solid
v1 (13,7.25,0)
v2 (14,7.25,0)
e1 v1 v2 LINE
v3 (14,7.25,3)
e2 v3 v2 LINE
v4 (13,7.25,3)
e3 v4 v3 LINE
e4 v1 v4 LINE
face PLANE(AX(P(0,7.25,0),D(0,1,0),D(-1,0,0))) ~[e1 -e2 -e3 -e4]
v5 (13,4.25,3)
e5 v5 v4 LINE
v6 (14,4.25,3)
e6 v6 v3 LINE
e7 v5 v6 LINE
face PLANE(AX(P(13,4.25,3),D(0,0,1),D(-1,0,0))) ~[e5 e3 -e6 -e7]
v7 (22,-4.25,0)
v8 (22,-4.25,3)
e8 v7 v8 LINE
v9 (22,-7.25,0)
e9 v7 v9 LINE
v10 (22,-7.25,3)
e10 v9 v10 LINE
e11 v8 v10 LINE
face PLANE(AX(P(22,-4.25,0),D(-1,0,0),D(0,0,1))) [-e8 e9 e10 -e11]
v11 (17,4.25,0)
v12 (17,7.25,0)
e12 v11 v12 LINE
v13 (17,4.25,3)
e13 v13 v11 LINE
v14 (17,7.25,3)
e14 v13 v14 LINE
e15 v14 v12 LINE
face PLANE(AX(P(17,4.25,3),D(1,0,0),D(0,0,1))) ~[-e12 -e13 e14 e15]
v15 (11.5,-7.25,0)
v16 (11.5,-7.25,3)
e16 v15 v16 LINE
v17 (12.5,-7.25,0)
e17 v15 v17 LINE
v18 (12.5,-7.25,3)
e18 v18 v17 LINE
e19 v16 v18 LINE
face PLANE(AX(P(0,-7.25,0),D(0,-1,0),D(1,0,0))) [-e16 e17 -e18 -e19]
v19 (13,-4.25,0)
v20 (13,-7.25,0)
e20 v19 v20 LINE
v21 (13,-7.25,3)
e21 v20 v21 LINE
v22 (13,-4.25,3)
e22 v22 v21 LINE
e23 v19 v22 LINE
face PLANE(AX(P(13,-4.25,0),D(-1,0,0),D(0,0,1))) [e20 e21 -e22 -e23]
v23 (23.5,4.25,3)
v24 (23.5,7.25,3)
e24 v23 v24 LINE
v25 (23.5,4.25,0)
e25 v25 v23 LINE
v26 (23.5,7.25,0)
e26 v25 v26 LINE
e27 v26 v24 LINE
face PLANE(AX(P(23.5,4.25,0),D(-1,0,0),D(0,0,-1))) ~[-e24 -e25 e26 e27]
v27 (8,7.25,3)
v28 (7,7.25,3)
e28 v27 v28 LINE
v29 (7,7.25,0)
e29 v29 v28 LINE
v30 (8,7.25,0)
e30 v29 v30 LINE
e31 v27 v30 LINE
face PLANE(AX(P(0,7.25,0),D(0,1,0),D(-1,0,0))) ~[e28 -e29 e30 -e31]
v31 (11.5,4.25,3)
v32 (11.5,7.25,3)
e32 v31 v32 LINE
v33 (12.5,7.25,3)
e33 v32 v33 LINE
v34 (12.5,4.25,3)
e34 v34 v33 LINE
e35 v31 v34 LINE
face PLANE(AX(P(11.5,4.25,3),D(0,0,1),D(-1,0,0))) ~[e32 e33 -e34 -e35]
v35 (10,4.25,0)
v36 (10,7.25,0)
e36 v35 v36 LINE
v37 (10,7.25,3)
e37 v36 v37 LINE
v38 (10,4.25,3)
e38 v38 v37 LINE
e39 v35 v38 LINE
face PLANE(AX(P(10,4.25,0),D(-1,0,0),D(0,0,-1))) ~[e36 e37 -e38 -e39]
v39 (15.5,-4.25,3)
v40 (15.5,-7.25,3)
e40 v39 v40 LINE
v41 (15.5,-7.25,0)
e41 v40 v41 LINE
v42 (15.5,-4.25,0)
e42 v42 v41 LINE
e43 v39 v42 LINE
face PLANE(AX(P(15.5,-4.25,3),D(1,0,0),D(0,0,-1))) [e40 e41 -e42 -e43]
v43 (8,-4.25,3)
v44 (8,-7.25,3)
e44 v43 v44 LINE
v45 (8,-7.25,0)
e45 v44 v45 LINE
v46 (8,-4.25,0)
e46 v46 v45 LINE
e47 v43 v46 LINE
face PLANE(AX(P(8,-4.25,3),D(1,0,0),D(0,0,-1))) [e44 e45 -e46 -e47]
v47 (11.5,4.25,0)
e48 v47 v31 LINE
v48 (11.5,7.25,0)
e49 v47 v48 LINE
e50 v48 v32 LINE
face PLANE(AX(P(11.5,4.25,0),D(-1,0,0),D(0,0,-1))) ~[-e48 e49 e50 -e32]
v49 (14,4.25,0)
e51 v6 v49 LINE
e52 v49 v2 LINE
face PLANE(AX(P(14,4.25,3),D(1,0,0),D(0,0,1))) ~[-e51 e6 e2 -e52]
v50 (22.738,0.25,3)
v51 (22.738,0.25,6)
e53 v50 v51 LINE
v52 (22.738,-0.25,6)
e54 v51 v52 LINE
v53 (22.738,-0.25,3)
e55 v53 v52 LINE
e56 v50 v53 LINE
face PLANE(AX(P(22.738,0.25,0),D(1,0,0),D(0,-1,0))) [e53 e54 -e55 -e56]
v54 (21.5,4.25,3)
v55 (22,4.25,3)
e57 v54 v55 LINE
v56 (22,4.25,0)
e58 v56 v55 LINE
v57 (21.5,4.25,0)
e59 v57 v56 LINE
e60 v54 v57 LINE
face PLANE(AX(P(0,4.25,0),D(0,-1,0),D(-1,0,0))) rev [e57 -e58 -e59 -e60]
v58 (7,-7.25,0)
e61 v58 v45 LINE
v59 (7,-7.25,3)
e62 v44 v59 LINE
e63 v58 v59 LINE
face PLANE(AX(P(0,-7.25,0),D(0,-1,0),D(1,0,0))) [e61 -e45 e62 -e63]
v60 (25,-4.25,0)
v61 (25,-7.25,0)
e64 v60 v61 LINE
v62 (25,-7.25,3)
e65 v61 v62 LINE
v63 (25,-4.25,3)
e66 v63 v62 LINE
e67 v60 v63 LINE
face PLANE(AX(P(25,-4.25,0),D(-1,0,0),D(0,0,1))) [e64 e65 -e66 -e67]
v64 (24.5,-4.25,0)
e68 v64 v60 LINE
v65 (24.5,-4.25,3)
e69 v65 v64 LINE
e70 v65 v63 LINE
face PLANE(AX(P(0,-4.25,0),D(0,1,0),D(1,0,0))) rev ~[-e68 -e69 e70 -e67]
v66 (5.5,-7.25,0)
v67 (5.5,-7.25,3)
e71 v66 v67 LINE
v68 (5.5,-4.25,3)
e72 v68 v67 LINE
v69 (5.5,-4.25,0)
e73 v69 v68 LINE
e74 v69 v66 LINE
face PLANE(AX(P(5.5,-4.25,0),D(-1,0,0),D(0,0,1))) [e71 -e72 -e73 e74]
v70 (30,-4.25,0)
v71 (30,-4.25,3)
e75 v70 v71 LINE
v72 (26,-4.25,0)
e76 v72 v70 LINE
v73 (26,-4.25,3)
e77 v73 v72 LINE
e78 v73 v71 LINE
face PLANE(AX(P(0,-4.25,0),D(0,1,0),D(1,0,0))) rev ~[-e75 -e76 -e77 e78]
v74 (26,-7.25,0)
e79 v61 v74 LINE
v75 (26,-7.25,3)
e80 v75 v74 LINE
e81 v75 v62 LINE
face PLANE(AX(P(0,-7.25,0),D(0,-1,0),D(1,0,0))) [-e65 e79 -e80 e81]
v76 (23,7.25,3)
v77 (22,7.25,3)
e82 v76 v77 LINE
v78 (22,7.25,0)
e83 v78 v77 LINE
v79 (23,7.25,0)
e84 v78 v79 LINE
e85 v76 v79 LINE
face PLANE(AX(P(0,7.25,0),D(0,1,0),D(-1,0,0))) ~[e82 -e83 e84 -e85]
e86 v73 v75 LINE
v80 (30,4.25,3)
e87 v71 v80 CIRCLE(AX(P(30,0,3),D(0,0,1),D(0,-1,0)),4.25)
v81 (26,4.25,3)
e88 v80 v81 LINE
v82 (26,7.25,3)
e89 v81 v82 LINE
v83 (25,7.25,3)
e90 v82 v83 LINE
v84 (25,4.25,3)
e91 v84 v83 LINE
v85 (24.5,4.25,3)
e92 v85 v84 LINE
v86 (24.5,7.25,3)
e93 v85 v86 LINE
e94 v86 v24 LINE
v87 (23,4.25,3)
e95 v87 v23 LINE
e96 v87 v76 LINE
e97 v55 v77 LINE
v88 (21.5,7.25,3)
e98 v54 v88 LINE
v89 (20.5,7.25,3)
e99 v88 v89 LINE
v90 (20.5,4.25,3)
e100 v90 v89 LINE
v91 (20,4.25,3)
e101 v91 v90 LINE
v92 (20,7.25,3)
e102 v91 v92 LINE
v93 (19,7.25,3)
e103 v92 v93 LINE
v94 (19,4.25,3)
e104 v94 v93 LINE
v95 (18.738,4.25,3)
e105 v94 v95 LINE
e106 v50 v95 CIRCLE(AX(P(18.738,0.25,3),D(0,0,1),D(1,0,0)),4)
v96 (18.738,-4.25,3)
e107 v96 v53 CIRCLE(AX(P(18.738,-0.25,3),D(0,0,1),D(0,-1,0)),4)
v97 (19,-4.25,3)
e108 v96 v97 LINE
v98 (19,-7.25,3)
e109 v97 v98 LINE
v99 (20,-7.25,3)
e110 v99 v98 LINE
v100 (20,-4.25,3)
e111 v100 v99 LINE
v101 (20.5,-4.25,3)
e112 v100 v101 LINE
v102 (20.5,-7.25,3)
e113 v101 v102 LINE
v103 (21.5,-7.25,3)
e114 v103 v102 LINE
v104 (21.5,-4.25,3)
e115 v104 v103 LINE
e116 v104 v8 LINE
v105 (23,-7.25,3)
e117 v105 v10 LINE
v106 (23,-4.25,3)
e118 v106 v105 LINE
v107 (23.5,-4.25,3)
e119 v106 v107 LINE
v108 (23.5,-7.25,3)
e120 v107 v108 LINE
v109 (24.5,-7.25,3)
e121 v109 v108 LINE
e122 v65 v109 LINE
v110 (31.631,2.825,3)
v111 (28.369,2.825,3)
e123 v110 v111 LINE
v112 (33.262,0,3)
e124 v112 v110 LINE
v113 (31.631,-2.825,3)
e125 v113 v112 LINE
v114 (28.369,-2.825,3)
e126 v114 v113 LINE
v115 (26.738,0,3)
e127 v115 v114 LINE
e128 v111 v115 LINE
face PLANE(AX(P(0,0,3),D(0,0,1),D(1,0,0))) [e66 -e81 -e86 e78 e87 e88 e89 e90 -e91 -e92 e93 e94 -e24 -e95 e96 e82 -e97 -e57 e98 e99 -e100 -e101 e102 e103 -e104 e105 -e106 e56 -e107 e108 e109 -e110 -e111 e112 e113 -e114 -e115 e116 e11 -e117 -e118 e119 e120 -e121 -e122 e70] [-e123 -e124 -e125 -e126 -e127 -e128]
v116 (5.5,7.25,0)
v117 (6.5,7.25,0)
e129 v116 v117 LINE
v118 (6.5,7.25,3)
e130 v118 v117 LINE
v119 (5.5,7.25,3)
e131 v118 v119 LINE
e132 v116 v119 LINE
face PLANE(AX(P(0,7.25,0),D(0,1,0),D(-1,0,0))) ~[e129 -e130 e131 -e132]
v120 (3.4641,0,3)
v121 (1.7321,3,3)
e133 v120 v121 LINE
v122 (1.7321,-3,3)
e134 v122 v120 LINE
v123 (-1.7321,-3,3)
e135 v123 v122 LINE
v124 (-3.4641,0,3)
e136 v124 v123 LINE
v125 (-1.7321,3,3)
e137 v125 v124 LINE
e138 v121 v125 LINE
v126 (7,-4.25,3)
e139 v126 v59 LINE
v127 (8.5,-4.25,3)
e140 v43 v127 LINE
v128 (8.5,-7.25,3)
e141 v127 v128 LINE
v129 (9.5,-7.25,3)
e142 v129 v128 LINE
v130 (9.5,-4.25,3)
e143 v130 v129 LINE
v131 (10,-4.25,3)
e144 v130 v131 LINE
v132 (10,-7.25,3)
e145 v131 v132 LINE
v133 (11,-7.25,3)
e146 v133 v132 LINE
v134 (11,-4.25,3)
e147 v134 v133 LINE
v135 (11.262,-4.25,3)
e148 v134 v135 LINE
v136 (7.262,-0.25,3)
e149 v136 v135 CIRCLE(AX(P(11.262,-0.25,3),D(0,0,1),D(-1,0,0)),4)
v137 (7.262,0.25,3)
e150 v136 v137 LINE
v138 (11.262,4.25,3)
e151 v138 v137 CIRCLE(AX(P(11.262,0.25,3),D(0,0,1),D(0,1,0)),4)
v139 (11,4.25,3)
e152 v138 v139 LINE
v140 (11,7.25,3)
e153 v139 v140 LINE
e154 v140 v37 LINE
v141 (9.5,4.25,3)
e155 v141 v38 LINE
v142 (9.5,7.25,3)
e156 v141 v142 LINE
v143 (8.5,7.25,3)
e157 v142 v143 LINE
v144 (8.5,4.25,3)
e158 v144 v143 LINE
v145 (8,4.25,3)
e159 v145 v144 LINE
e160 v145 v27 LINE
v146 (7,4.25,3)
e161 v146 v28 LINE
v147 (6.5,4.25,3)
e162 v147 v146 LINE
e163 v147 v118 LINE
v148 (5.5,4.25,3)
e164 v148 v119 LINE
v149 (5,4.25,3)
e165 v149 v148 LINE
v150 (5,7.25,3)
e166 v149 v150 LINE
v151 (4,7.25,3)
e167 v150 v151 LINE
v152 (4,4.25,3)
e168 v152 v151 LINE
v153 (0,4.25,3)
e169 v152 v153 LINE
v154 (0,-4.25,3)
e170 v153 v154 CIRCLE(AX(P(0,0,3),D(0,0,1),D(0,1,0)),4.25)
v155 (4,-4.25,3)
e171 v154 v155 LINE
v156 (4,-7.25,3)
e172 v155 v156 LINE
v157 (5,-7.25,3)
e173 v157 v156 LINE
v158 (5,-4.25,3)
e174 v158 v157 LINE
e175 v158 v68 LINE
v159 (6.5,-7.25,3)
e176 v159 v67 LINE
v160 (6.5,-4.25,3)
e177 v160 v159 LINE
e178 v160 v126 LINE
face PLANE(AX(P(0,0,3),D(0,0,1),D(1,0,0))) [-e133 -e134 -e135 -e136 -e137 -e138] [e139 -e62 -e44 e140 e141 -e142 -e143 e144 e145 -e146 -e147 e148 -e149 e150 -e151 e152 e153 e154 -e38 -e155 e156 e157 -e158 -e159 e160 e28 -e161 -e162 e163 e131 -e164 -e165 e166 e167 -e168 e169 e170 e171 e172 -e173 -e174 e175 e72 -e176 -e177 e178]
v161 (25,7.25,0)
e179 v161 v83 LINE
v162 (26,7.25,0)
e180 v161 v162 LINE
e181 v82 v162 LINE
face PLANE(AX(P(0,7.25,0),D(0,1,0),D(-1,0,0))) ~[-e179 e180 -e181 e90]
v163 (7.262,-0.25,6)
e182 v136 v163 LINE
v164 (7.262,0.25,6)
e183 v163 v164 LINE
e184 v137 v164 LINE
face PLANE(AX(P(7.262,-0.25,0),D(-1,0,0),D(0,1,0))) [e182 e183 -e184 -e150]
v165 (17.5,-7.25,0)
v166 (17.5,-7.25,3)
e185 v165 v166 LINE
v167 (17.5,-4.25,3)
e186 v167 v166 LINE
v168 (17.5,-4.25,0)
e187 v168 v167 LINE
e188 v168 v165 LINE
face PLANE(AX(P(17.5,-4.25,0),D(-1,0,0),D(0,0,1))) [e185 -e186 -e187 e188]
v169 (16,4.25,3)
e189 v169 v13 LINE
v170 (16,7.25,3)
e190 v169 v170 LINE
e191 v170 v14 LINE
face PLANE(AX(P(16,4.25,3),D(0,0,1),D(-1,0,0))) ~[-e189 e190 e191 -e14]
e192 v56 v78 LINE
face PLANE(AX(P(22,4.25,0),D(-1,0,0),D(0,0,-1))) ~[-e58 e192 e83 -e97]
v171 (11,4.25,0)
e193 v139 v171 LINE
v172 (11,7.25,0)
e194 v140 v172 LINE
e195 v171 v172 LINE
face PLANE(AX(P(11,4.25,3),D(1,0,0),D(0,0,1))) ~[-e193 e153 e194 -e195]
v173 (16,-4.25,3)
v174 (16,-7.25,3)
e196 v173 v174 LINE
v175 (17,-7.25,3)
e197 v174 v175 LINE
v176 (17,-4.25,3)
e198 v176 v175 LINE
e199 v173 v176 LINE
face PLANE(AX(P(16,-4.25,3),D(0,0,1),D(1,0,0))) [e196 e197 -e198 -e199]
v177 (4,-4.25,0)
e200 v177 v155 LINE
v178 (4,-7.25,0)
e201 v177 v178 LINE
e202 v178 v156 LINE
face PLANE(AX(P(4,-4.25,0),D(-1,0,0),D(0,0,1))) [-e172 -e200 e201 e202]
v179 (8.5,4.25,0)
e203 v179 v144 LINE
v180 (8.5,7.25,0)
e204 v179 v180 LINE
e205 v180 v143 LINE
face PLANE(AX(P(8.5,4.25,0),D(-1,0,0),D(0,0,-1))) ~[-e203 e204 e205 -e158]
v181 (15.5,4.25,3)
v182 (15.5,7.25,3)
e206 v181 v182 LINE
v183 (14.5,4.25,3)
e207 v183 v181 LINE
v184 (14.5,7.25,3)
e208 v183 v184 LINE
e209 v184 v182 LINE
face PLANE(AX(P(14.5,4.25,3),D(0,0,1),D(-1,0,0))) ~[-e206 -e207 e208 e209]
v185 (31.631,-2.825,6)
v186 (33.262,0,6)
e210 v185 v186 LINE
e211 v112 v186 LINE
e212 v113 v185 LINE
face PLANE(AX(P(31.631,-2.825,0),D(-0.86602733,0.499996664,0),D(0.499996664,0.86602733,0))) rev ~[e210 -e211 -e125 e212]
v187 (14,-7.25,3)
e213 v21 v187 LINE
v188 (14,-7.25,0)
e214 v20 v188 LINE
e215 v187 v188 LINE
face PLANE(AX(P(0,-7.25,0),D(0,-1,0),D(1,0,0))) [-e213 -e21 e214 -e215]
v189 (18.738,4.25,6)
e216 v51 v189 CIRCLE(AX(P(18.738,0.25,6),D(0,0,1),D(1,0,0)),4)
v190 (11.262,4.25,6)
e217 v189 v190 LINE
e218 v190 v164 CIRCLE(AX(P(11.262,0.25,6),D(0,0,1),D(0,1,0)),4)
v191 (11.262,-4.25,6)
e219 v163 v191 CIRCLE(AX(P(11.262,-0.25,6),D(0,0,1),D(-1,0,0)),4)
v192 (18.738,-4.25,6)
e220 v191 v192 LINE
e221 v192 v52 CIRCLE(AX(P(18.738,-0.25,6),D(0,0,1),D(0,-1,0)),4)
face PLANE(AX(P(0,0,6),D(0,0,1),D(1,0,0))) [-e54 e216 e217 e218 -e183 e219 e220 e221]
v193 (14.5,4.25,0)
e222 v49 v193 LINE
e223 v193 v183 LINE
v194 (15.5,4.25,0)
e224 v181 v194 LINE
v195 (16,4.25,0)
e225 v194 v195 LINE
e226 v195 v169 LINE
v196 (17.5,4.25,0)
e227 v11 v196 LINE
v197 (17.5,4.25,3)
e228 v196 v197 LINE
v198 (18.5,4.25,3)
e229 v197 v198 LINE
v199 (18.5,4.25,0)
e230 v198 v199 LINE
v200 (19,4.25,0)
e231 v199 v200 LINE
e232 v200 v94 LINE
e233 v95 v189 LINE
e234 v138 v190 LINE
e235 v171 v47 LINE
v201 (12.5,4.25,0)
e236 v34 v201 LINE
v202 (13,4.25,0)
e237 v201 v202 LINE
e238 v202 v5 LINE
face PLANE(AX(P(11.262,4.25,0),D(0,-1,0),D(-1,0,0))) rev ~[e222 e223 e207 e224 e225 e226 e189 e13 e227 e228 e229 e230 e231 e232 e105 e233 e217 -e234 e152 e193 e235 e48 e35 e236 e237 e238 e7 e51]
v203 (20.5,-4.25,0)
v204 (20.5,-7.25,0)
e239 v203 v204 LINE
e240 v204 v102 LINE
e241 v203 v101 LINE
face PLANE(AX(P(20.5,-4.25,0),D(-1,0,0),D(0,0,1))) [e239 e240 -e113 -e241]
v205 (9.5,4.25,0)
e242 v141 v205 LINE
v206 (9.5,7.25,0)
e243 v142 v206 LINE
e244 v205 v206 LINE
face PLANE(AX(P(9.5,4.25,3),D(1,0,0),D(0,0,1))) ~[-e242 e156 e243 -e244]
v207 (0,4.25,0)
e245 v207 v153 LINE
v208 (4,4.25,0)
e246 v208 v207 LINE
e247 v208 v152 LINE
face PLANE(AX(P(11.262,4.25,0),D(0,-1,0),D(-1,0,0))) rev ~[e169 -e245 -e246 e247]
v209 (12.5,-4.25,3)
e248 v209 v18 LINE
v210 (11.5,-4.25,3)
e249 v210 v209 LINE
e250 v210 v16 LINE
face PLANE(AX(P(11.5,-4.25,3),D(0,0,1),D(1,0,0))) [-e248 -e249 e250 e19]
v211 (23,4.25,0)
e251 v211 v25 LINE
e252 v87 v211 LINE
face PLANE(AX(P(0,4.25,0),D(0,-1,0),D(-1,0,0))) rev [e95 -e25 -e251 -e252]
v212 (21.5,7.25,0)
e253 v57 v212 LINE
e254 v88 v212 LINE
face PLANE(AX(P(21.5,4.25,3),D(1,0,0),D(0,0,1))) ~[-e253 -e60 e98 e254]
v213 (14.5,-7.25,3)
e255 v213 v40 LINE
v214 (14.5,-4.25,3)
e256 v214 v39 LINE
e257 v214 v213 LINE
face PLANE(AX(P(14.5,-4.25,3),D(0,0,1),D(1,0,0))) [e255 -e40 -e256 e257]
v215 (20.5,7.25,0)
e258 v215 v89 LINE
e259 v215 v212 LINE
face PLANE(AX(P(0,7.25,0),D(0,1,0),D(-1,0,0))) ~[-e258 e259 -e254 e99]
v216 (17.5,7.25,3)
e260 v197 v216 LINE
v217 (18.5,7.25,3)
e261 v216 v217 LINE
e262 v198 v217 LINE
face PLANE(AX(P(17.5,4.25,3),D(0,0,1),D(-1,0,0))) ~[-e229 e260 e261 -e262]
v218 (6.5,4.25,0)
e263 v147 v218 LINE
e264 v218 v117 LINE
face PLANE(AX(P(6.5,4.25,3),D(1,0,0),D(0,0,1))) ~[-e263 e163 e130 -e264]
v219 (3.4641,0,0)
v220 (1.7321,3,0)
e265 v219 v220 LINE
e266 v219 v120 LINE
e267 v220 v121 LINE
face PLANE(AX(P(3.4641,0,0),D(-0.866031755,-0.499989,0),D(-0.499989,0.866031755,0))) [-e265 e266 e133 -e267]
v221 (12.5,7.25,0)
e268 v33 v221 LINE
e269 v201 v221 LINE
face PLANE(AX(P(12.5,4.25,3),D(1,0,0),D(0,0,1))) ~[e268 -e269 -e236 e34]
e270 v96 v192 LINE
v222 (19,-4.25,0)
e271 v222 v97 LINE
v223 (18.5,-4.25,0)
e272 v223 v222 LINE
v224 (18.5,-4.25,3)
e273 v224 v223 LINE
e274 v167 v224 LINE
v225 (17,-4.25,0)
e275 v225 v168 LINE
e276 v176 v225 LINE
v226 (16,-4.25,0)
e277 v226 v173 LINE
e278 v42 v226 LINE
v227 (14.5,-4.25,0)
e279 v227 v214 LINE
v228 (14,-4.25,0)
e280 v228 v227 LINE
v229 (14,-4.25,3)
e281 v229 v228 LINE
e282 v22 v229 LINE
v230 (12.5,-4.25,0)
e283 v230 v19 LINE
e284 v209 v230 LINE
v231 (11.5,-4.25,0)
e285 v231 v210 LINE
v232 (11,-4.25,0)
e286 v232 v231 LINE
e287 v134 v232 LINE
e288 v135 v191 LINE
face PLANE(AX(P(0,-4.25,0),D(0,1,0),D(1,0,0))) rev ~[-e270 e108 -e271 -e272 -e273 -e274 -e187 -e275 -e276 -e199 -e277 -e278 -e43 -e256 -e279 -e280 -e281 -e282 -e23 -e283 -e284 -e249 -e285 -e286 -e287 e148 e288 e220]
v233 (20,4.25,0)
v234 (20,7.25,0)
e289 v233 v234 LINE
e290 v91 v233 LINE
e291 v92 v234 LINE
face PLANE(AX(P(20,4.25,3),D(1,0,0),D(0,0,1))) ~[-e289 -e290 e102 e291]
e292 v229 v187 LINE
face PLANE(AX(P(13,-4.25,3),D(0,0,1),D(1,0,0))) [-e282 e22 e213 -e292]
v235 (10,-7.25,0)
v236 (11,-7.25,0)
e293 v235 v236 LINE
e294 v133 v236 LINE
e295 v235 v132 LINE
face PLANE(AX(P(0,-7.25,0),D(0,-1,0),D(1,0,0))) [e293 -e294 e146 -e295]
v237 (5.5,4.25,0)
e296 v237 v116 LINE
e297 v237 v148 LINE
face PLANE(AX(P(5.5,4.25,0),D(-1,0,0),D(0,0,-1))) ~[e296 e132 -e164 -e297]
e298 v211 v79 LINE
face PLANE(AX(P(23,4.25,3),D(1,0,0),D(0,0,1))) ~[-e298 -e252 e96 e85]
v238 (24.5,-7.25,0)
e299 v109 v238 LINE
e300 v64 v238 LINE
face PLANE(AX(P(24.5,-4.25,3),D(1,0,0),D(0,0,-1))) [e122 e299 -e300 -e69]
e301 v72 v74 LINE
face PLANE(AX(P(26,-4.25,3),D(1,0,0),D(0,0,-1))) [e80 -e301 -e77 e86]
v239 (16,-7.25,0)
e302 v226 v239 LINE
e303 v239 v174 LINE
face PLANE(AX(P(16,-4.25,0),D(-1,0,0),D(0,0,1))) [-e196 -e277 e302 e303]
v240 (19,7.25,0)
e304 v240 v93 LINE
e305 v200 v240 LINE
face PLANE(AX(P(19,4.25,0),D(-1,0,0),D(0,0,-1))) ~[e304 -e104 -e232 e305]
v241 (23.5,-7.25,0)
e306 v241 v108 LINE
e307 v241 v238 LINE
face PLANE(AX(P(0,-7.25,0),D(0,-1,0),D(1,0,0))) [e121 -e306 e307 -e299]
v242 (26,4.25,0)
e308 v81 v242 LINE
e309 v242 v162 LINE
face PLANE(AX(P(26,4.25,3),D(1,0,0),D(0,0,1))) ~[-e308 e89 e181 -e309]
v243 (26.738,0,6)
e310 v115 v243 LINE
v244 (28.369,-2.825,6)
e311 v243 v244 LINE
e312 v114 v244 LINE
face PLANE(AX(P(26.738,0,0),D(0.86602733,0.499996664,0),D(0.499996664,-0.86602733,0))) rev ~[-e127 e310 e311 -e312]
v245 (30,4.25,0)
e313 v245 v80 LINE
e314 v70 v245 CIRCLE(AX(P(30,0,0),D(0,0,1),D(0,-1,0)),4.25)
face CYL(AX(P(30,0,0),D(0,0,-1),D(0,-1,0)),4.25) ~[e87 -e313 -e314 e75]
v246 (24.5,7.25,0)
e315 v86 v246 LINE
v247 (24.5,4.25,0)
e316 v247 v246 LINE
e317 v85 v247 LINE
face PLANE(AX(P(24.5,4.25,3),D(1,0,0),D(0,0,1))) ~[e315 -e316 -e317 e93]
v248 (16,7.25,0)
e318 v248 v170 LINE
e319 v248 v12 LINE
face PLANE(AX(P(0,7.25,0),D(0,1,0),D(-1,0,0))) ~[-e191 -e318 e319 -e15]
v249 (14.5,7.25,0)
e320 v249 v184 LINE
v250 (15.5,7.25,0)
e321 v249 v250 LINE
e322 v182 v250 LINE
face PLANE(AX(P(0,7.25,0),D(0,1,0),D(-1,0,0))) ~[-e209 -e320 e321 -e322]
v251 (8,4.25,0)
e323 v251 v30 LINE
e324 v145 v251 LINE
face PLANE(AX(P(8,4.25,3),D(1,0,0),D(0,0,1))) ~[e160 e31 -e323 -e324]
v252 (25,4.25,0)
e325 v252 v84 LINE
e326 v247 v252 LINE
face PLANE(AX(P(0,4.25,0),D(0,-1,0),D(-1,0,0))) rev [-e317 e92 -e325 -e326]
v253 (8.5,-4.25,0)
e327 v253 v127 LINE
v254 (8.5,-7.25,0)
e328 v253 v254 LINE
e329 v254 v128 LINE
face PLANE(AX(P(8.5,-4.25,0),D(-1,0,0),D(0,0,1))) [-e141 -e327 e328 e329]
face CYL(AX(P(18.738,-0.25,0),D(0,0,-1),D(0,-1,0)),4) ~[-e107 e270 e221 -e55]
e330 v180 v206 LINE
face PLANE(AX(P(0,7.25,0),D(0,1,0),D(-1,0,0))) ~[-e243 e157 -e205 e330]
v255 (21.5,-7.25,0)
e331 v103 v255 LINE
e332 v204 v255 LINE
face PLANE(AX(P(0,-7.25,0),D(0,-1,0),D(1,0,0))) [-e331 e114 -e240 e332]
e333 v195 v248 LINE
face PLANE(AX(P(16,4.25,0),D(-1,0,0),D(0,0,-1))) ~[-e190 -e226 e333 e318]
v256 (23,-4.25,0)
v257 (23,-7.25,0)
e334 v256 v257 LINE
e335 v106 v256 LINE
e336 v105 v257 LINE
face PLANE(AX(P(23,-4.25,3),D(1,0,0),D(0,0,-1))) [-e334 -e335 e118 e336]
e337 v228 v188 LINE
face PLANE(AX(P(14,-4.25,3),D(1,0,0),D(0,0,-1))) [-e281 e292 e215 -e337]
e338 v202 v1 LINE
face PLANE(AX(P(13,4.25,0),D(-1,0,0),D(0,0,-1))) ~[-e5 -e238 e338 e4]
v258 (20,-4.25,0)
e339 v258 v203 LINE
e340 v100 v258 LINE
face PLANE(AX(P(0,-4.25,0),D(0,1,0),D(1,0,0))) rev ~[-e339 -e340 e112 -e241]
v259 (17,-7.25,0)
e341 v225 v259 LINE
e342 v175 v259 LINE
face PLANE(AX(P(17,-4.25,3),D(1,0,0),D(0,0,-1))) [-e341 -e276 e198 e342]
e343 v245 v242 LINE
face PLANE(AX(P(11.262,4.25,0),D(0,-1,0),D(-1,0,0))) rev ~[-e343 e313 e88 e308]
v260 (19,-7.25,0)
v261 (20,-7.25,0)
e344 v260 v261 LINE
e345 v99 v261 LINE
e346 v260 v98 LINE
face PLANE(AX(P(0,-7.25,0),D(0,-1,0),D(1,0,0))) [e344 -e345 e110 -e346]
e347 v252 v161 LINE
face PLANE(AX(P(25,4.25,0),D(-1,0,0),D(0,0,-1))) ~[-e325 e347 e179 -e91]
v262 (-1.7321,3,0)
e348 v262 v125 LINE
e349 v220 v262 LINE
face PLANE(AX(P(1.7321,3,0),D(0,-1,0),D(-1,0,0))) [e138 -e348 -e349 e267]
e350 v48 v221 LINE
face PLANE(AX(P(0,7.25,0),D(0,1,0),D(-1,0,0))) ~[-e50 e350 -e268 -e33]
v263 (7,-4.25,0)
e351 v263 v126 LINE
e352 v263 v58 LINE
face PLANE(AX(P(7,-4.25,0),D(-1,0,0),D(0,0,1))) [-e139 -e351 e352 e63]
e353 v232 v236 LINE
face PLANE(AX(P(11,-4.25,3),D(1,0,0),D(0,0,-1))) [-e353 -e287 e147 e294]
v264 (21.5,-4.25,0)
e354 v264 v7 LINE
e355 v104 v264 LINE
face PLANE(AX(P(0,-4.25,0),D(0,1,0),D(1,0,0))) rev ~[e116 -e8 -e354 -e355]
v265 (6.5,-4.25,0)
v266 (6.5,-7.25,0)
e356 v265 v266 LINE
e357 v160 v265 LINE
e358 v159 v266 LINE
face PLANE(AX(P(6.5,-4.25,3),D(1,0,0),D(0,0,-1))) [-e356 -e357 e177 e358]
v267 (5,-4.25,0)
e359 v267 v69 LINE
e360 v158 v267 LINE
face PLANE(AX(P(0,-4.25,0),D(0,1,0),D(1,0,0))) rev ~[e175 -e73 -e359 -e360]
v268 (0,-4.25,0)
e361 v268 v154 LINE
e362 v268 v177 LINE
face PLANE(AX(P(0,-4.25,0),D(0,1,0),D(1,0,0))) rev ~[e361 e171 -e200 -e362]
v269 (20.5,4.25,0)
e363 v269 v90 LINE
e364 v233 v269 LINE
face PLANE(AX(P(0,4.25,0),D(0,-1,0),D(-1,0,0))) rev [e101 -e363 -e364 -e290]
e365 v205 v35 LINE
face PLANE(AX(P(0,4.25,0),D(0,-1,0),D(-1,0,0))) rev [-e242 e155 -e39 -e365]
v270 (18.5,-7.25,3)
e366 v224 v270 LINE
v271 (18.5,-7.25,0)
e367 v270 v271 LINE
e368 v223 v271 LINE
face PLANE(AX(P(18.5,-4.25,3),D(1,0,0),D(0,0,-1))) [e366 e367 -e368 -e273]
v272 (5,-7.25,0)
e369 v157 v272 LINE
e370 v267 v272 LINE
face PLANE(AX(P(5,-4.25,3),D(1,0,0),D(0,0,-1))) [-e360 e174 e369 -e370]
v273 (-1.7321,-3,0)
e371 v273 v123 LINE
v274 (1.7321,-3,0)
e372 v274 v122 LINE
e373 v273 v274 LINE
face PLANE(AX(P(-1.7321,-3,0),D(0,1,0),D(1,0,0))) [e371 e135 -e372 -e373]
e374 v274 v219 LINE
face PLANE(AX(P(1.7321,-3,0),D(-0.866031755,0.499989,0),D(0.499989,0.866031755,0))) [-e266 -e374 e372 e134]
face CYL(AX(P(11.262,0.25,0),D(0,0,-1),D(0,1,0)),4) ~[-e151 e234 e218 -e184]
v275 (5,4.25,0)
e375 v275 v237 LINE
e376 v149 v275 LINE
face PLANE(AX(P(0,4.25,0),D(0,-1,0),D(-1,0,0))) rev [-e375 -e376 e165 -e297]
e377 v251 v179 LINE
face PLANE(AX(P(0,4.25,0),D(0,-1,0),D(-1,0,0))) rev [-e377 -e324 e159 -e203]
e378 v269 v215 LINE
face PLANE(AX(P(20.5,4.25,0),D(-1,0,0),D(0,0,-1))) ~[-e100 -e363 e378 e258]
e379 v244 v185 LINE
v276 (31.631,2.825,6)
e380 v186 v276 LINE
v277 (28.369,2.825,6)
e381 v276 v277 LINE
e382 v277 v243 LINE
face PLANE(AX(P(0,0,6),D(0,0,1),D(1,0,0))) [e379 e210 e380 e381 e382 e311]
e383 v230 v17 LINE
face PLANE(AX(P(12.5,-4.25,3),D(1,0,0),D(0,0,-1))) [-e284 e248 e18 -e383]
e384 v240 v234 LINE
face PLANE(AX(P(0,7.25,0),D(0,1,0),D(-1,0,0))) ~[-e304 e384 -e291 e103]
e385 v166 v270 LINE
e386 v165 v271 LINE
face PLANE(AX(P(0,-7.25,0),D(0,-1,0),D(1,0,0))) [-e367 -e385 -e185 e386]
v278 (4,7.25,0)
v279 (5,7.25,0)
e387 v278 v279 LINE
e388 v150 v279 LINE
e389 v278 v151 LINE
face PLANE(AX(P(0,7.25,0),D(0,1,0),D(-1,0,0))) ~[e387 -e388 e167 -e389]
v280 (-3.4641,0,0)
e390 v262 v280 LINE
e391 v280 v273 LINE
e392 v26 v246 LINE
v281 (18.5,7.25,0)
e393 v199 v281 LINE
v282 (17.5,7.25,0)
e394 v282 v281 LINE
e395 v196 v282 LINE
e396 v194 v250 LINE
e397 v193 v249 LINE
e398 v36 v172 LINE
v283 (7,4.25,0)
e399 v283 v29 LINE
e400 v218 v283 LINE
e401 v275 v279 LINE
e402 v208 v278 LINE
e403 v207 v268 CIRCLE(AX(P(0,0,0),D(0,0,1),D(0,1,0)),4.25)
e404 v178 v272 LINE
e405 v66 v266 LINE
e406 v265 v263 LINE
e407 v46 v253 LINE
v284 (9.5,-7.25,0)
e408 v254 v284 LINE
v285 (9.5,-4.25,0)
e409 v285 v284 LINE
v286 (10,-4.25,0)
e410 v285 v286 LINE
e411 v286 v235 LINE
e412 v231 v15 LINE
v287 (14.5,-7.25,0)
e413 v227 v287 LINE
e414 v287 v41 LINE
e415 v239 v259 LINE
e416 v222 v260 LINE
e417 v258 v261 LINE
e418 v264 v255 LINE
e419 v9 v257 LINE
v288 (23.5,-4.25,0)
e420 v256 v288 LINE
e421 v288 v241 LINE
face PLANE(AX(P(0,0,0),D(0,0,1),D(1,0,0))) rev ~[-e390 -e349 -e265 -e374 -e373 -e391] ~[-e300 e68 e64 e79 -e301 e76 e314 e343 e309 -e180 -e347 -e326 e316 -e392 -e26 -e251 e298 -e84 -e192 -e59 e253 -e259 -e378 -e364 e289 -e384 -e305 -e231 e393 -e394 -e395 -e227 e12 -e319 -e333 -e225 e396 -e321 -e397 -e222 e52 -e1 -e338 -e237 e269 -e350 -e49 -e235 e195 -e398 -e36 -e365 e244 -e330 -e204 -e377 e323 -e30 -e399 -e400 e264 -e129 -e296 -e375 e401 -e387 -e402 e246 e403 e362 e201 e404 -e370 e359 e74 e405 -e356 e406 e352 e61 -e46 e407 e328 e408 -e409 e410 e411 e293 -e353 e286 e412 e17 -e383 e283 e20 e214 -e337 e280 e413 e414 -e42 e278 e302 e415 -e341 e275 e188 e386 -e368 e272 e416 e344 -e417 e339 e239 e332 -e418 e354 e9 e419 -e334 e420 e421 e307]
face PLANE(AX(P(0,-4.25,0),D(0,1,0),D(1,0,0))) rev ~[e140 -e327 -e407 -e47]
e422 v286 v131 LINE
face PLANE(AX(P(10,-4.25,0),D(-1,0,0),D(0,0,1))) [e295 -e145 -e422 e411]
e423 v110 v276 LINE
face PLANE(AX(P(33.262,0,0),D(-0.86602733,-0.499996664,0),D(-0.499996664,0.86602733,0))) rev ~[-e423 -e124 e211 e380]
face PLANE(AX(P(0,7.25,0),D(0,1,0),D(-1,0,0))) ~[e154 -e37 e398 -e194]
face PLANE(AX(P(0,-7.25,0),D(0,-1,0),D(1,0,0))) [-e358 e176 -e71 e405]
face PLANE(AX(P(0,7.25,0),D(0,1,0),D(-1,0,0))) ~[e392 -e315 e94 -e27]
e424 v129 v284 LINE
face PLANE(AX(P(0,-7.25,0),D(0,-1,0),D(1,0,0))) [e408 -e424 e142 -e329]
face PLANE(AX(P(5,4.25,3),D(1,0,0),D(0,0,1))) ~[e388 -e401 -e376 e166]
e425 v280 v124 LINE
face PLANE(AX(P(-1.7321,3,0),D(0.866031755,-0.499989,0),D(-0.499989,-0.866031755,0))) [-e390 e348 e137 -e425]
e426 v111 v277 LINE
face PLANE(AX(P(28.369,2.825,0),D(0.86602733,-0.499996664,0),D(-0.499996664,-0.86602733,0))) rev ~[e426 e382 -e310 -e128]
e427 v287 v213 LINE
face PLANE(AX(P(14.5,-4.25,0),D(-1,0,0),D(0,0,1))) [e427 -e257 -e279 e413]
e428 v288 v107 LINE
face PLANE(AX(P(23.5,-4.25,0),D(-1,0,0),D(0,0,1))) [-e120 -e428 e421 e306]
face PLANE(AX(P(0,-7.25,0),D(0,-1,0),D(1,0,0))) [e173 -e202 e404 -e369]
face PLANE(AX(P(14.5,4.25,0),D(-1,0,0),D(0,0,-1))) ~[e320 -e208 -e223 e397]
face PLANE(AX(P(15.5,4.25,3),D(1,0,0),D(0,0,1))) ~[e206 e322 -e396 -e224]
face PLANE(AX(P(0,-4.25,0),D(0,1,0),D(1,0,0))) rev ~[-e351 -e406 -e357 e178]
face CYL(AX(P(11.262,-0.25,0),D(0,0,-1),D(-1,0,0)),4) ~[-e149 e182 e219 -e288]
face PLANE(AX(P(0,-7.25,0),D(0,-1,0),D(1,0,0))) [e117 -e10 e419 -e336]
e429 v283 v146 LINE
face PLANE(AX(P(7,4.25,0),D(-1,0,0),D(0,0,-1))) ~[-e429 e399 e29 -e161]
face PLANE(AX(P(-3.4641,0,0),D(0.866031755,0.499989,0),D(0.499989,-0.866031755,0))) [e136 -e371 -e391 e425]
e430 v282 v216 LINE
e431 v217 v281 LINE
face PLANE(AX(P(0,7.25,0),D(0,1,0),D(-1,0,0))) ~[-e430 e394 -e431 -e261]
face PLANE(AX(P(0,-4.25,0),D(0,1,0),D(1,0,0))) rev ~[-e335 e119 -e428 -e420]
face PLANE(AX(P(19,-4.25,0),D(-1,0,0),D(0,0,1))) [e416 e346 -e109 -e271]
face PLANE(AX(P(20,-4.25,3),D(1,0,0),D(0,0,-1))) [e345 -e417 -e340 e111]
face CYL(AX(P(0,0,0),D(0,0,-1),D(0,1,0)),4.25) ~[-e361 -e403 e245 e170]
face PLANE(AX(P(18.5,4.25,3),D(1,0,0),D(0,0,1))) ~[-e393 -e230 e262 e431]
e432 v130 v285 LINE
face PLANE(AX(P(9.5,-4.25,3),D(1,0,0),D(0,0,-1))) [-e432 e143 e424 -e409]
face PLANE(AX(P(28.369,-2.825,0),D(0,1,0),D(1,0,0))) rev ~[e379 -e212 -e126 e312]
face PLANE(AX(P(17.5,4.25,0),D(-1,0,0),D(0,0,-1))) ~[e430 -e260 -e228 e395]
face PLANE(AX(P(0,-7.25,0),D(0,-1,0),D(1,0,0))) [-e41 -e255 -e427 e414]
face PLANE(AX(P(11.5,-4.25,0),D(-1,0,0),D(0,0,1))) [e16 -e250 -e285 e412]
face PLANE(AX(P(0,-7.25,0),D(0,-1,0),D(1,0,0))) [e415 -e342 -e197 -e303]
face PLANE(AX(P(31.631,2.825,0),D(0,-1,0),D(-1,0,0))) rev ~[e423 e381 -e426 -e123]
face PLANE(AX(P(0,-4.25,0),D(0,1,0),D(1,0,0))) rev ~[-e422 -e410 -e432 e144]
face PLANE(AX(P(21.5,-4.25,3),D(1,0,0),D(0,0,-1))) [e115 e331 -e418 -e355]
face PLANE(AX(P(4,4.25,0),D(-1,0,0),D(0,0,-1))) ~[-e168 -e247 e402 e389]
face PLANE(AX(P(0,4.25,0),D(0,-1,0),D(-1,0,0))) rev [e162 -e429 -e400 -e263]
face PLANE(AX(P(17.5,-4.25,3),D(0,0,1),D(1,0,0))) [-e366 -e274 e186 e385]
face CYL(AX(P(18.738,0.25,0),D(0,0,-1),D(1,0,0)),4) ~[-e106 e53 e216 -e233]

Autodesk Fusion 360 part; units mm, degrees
sketch "Sketch1" plane through (0, 0, 0) normal (0, 0, 1) x (1, 0, 0)
  line L0 (0, -4.25) -> (30, -4.25)
  arc A0 (30, -4.25) -> (30, 4.25) centre (30, 0) ccw
  line L1 (30, 4.25) -> (0, 4.25)
  arc A1 (0, 4.25) -> (0, -4.25) centre (0, 0) ccw
  line L2 (0, 0) -> (30, 0) construction
  circle A2 centre (0, 0) radius 3 construction
  line L3 (-1.7321, 3) -> (-3.4641, 0)
  line L4 (-3.4641, 0) -> (-1.7321, -3)
  line L5 (-1.7321, -3) -> (1.7321, -3)
  line L6 (1.7321, -3) -> (3.4641, 0)
  line L7 (3.4641, 0) -> (1.7321, 3)
  line L8 (1.7321, 3) -> (-1.7321, 3)
  circle A3 centre (30, 0) radius 2.825 construction
  line L9 (33.262, 0) -> (31.631, 2.825)
  line L10 (31.631, 2.825) -> (28.369, 2.825)
  line L11 (28.369, 2.825) -> (26.738, 0)
  line L12 (26.738, 0) -> (28.369, -2.825)
  line L13 (28.369, -2.825) -> (31.631, -2.825)
  line L14 (31.631, -2.825) -> (33.262, 0)
  line L15 (18.738, -4.25) -> (11.262, -4.25)
  line L16 (7.262, -0.25) -> (7.262, 0.25)
  line L17 (11.262, 4.25) -> (18.738, 4.25)
  line L18 (22.738, 0.25) -> (22.738, -0.25)
  line L19 (22.738, -4.25) -> (7.262, 4.25) construction
  line L20 (7.262, -4.25) -> (22.738, 4.25) construction
  arc A4 (11.262, 4.25) -> (7.262, 0.25) centre (11.262, 0.25) ccw
  arc A5 (7.262, -0.25) -> (11.262, -4.25) centre (11.262, -0.25) ccw
  arc A6 (18.738, -4.25) -> (22.738, -0.25) centre (18.738, -0.25) ccw
  arc A7 (22.738, 0.25) -> (18.738, 4.25) centre (18.738, 0.25) ccw
  point P0 (30, 0)
  point P1 (15, 0)
  dimension "d1" = 30
  dimension "d2" = 4.25
  dimension "d14" = 60
  dimension "d15" = 5.65
  dimension "d16" = 6
  dimension "d17" = 60
  dimension "d18" = 4
  dimension "d19" = 4
extrude "Extrude1" add sketch "Sketch1" along normal blind 3 contours L0 L1 A1 L16 A4 A5 | L0 A0 L1 L18 A6 A7 makes body 1 at (4.2732, -1.6372, 0) makes body 2 at (25.8943, 1.4006, 0)
extrude "Extrude3" add sketch "Sketch1" along normal blind 6 contours L0 L1 L15 L16 L17 L18 A4 A5 A6 A7 | L9 L10 L11 L12 L13 L14 bodies 1 2
sketch "Sketch3" plane through (0, -4.25, 0) normal (0, -1, 0) x (1, 0, 0)
  line L0 (0, 0) -> (30, 0)
  line L1 (30, 0) -> (30, 3)
  line L2 (30, 3) -> (18.738, 3)
  line L3 (18.738, 3) -> (18.738, 6)
  line L4 (18.738, 6) -> (11.262, 6)
  line L5 (11.262, 6) -> (11.262, 3)
  line L6 (11.262, 3) -> (0, 3)
  line L7 (0, 3) -> (0, 0)
  line L8 (4, 3) -> (5, 3)
  line L9 (5, 3) -> (5, 0)
  line L10 (5, 0) -> (4, 0)
  line L11 (4, 0) -> (4, 3)
  line L12 (6.5, 3) -> (6.5, 0)
  line L13 (5.5, 3) -> (6.5, 3)
  line L14 (5.5, 0) -> (5.5, 3)
  line L15 (6.5, 0) -> (5.5, 0)
  line L16 (8, 3) -> (8, 0)
  line L17 (7, 3) -> (8, 3)
  line L18 (7, 0) -> (7, 3)
  line L19 (8, 0) -> (7, 0)
  line L20 (9.5, 3) -> (9.5, 0)
  line L21 (8.5, 3) -> (9.5, 3)
  line L22 (8.5, 0) -> (8.5, 3)
  line L23 (9.5, 0) -> (8.5, 0)
  line L24 (11, 3) -> (11, 0)
  line L25 (10, 3) -> (11, 3)
  line L26 (10, 0) -> (10, 3)
  line L27 (11, 0) -> (10, 0)
  line L28 (12.5, 3) -> (12.5, 0)
  line L29 (11.5, 3) -> (12.5, 3)
  line L30 (11.5, 0) -> (11.5, 3)
  line L31 (12.5, 0) -> (11.5, 0)
  line L32 (14, 3) -> (14, 0)
  line L33 (13, 3) -> (14, 3)
  line L34 (13, 0) -> (13, 3)
  line L35 (14, 0) -> (13, 0)
  line L36 (15.5, 3) -> (15.5, 0)
  line L37 (14.5, 3) -> (15.5, 3)
  line L38 (14.5, 0) -> (14.5, 3)
  line L39 (15.5, 0) -> (14.5, 0)
  line L40 (17, 3) -> (17, 0)
  line L41 (16, 3) -> (17, 3)
  line L42 (16, 0) -> (16, 3)
  line L43 (17, 0) -> (16, 0)
  line L44 (18.5, 3) -> (18.5, 0)
  line L45 (17.5, 3) -> (18.5, 3)
  line L46 (17.5, 0) -> (17.5, 3)
  line L47 (18.5, 0) -> (17.5, 0)
  line L48 (20, 3) -> (20, 0)
  line L49 (19, 3) -> (20, 3)
  line L50 (19, 0) -> (19, 3)
  line L51 (20, 0) -> (19, 0)
  line L52 (21.5, 3) -> (21.5, 0)
  line L53 (20.5, 3) -> (21.5, 3)
  line L54 (20.5, 0) -> (20.5, 3)
  line L55 (21.5, 0) -> (20.5, 0)
  line L56 (23, 3) -> (23, 0)
  line L57 (22, 3) -> (23, 3)
  line L58 (22, 0) -> (22, 3)
  line L59 (23, 0) -> (22, 0)
  line L60 (24.5, 3) -> (24.5, 0)
  line L61 (23.5, 3) -> (24.5, 3)
  line L62 (23.5, 0) -> (23.5, 3)
  line L63 (24.5, 0) -> (23.5, 0)
  line L64 (26, 3) -> (26, 0)
  line L65 (25, 3) -> (26, 3)
  line L66 (25, 0) -> (25, 3)
  line L67 (26, 0) -> (25, 0)
  dimension "d39" = 1
  dimension "d40" = 4
  dimension "d47" = 21
  dimension "d48" = 0
extrude "Extrude5" add sketch "Sketch3" along normal blind 3 contours L0 L6 L8 L9 L10 L11 | L0 L6 L12 L13 L14 L15 | L0 L6 L16 L17 L18 L19 | L0 L6 L20 L21 L22 L23 | L0 L6 L24 L25 L26 L27 | L0 L28 L29 L30 L31 | L0 L32 L33 L34 L35 | L0 L36 L37 L38 L39 | L0 L2 L48 L49 L50 L51 | L0 L40 L41 L42 L43 | L0 L2 L52 L53 L54 L55 | L0 L44 L45 L46 L47 | L0 L2 L56 L57 L58 L59 | L0 L2 L60 L61 L62 L63 | L0 L2 L64 L65 L66 L67 bodies 1
ref_plane "WorkPlane2" through (28, 0, 1.5) normal (0, -1, 0) x (1, 0, 0)
mirror "Mirror2" about plane through (28, 0, 1.5) normal (0, -1, 0) of bodies 1 merged
equation "d1 = length"
equation "d2 = arc_Length"
equation "height = 6 mm"
equation "length = 30 mm"
equation "total_length = 30 mm + 8.5 mm"
equation "arc_Length = ( total_length - length ) / 2"
equation "DegreePolygon = ( 360 / 6 ) * 1 deg"
equation "Polygon_Length = 6 mm"
equation "NPolygonSides = 6"
equation "d14 = DegreePolygon"
equation "d15 = Polygon_Length - Hole_OFFSET"
equation "d16 = Polygon_Length"
equation "d17 = DegreePolygon"
equation "d18 = offsetdistance"
equation "d19 = arc_Polygon"
equation "arc_Polygon = 4 mm"
equation "offsetdistance = 4 mm"
equation "d22 = ( height / 2 mm ) * 1 mm"
equation "d26 = height"
equation "Hole_OFFSET = 0.35 mm"
equation "d39 = pattounes_width"
equation "d40 = pattounes_offset"
equation "pattounes_offset = 4 mm"
equation "pattounes_width = 1 mm"
equation "NPattounes = 15"
equation "d45 = NPattounes"
equation "d47 = length - pattounes_offset * 2 - pattounes_width"
equation "d51 = -arc_Length"
